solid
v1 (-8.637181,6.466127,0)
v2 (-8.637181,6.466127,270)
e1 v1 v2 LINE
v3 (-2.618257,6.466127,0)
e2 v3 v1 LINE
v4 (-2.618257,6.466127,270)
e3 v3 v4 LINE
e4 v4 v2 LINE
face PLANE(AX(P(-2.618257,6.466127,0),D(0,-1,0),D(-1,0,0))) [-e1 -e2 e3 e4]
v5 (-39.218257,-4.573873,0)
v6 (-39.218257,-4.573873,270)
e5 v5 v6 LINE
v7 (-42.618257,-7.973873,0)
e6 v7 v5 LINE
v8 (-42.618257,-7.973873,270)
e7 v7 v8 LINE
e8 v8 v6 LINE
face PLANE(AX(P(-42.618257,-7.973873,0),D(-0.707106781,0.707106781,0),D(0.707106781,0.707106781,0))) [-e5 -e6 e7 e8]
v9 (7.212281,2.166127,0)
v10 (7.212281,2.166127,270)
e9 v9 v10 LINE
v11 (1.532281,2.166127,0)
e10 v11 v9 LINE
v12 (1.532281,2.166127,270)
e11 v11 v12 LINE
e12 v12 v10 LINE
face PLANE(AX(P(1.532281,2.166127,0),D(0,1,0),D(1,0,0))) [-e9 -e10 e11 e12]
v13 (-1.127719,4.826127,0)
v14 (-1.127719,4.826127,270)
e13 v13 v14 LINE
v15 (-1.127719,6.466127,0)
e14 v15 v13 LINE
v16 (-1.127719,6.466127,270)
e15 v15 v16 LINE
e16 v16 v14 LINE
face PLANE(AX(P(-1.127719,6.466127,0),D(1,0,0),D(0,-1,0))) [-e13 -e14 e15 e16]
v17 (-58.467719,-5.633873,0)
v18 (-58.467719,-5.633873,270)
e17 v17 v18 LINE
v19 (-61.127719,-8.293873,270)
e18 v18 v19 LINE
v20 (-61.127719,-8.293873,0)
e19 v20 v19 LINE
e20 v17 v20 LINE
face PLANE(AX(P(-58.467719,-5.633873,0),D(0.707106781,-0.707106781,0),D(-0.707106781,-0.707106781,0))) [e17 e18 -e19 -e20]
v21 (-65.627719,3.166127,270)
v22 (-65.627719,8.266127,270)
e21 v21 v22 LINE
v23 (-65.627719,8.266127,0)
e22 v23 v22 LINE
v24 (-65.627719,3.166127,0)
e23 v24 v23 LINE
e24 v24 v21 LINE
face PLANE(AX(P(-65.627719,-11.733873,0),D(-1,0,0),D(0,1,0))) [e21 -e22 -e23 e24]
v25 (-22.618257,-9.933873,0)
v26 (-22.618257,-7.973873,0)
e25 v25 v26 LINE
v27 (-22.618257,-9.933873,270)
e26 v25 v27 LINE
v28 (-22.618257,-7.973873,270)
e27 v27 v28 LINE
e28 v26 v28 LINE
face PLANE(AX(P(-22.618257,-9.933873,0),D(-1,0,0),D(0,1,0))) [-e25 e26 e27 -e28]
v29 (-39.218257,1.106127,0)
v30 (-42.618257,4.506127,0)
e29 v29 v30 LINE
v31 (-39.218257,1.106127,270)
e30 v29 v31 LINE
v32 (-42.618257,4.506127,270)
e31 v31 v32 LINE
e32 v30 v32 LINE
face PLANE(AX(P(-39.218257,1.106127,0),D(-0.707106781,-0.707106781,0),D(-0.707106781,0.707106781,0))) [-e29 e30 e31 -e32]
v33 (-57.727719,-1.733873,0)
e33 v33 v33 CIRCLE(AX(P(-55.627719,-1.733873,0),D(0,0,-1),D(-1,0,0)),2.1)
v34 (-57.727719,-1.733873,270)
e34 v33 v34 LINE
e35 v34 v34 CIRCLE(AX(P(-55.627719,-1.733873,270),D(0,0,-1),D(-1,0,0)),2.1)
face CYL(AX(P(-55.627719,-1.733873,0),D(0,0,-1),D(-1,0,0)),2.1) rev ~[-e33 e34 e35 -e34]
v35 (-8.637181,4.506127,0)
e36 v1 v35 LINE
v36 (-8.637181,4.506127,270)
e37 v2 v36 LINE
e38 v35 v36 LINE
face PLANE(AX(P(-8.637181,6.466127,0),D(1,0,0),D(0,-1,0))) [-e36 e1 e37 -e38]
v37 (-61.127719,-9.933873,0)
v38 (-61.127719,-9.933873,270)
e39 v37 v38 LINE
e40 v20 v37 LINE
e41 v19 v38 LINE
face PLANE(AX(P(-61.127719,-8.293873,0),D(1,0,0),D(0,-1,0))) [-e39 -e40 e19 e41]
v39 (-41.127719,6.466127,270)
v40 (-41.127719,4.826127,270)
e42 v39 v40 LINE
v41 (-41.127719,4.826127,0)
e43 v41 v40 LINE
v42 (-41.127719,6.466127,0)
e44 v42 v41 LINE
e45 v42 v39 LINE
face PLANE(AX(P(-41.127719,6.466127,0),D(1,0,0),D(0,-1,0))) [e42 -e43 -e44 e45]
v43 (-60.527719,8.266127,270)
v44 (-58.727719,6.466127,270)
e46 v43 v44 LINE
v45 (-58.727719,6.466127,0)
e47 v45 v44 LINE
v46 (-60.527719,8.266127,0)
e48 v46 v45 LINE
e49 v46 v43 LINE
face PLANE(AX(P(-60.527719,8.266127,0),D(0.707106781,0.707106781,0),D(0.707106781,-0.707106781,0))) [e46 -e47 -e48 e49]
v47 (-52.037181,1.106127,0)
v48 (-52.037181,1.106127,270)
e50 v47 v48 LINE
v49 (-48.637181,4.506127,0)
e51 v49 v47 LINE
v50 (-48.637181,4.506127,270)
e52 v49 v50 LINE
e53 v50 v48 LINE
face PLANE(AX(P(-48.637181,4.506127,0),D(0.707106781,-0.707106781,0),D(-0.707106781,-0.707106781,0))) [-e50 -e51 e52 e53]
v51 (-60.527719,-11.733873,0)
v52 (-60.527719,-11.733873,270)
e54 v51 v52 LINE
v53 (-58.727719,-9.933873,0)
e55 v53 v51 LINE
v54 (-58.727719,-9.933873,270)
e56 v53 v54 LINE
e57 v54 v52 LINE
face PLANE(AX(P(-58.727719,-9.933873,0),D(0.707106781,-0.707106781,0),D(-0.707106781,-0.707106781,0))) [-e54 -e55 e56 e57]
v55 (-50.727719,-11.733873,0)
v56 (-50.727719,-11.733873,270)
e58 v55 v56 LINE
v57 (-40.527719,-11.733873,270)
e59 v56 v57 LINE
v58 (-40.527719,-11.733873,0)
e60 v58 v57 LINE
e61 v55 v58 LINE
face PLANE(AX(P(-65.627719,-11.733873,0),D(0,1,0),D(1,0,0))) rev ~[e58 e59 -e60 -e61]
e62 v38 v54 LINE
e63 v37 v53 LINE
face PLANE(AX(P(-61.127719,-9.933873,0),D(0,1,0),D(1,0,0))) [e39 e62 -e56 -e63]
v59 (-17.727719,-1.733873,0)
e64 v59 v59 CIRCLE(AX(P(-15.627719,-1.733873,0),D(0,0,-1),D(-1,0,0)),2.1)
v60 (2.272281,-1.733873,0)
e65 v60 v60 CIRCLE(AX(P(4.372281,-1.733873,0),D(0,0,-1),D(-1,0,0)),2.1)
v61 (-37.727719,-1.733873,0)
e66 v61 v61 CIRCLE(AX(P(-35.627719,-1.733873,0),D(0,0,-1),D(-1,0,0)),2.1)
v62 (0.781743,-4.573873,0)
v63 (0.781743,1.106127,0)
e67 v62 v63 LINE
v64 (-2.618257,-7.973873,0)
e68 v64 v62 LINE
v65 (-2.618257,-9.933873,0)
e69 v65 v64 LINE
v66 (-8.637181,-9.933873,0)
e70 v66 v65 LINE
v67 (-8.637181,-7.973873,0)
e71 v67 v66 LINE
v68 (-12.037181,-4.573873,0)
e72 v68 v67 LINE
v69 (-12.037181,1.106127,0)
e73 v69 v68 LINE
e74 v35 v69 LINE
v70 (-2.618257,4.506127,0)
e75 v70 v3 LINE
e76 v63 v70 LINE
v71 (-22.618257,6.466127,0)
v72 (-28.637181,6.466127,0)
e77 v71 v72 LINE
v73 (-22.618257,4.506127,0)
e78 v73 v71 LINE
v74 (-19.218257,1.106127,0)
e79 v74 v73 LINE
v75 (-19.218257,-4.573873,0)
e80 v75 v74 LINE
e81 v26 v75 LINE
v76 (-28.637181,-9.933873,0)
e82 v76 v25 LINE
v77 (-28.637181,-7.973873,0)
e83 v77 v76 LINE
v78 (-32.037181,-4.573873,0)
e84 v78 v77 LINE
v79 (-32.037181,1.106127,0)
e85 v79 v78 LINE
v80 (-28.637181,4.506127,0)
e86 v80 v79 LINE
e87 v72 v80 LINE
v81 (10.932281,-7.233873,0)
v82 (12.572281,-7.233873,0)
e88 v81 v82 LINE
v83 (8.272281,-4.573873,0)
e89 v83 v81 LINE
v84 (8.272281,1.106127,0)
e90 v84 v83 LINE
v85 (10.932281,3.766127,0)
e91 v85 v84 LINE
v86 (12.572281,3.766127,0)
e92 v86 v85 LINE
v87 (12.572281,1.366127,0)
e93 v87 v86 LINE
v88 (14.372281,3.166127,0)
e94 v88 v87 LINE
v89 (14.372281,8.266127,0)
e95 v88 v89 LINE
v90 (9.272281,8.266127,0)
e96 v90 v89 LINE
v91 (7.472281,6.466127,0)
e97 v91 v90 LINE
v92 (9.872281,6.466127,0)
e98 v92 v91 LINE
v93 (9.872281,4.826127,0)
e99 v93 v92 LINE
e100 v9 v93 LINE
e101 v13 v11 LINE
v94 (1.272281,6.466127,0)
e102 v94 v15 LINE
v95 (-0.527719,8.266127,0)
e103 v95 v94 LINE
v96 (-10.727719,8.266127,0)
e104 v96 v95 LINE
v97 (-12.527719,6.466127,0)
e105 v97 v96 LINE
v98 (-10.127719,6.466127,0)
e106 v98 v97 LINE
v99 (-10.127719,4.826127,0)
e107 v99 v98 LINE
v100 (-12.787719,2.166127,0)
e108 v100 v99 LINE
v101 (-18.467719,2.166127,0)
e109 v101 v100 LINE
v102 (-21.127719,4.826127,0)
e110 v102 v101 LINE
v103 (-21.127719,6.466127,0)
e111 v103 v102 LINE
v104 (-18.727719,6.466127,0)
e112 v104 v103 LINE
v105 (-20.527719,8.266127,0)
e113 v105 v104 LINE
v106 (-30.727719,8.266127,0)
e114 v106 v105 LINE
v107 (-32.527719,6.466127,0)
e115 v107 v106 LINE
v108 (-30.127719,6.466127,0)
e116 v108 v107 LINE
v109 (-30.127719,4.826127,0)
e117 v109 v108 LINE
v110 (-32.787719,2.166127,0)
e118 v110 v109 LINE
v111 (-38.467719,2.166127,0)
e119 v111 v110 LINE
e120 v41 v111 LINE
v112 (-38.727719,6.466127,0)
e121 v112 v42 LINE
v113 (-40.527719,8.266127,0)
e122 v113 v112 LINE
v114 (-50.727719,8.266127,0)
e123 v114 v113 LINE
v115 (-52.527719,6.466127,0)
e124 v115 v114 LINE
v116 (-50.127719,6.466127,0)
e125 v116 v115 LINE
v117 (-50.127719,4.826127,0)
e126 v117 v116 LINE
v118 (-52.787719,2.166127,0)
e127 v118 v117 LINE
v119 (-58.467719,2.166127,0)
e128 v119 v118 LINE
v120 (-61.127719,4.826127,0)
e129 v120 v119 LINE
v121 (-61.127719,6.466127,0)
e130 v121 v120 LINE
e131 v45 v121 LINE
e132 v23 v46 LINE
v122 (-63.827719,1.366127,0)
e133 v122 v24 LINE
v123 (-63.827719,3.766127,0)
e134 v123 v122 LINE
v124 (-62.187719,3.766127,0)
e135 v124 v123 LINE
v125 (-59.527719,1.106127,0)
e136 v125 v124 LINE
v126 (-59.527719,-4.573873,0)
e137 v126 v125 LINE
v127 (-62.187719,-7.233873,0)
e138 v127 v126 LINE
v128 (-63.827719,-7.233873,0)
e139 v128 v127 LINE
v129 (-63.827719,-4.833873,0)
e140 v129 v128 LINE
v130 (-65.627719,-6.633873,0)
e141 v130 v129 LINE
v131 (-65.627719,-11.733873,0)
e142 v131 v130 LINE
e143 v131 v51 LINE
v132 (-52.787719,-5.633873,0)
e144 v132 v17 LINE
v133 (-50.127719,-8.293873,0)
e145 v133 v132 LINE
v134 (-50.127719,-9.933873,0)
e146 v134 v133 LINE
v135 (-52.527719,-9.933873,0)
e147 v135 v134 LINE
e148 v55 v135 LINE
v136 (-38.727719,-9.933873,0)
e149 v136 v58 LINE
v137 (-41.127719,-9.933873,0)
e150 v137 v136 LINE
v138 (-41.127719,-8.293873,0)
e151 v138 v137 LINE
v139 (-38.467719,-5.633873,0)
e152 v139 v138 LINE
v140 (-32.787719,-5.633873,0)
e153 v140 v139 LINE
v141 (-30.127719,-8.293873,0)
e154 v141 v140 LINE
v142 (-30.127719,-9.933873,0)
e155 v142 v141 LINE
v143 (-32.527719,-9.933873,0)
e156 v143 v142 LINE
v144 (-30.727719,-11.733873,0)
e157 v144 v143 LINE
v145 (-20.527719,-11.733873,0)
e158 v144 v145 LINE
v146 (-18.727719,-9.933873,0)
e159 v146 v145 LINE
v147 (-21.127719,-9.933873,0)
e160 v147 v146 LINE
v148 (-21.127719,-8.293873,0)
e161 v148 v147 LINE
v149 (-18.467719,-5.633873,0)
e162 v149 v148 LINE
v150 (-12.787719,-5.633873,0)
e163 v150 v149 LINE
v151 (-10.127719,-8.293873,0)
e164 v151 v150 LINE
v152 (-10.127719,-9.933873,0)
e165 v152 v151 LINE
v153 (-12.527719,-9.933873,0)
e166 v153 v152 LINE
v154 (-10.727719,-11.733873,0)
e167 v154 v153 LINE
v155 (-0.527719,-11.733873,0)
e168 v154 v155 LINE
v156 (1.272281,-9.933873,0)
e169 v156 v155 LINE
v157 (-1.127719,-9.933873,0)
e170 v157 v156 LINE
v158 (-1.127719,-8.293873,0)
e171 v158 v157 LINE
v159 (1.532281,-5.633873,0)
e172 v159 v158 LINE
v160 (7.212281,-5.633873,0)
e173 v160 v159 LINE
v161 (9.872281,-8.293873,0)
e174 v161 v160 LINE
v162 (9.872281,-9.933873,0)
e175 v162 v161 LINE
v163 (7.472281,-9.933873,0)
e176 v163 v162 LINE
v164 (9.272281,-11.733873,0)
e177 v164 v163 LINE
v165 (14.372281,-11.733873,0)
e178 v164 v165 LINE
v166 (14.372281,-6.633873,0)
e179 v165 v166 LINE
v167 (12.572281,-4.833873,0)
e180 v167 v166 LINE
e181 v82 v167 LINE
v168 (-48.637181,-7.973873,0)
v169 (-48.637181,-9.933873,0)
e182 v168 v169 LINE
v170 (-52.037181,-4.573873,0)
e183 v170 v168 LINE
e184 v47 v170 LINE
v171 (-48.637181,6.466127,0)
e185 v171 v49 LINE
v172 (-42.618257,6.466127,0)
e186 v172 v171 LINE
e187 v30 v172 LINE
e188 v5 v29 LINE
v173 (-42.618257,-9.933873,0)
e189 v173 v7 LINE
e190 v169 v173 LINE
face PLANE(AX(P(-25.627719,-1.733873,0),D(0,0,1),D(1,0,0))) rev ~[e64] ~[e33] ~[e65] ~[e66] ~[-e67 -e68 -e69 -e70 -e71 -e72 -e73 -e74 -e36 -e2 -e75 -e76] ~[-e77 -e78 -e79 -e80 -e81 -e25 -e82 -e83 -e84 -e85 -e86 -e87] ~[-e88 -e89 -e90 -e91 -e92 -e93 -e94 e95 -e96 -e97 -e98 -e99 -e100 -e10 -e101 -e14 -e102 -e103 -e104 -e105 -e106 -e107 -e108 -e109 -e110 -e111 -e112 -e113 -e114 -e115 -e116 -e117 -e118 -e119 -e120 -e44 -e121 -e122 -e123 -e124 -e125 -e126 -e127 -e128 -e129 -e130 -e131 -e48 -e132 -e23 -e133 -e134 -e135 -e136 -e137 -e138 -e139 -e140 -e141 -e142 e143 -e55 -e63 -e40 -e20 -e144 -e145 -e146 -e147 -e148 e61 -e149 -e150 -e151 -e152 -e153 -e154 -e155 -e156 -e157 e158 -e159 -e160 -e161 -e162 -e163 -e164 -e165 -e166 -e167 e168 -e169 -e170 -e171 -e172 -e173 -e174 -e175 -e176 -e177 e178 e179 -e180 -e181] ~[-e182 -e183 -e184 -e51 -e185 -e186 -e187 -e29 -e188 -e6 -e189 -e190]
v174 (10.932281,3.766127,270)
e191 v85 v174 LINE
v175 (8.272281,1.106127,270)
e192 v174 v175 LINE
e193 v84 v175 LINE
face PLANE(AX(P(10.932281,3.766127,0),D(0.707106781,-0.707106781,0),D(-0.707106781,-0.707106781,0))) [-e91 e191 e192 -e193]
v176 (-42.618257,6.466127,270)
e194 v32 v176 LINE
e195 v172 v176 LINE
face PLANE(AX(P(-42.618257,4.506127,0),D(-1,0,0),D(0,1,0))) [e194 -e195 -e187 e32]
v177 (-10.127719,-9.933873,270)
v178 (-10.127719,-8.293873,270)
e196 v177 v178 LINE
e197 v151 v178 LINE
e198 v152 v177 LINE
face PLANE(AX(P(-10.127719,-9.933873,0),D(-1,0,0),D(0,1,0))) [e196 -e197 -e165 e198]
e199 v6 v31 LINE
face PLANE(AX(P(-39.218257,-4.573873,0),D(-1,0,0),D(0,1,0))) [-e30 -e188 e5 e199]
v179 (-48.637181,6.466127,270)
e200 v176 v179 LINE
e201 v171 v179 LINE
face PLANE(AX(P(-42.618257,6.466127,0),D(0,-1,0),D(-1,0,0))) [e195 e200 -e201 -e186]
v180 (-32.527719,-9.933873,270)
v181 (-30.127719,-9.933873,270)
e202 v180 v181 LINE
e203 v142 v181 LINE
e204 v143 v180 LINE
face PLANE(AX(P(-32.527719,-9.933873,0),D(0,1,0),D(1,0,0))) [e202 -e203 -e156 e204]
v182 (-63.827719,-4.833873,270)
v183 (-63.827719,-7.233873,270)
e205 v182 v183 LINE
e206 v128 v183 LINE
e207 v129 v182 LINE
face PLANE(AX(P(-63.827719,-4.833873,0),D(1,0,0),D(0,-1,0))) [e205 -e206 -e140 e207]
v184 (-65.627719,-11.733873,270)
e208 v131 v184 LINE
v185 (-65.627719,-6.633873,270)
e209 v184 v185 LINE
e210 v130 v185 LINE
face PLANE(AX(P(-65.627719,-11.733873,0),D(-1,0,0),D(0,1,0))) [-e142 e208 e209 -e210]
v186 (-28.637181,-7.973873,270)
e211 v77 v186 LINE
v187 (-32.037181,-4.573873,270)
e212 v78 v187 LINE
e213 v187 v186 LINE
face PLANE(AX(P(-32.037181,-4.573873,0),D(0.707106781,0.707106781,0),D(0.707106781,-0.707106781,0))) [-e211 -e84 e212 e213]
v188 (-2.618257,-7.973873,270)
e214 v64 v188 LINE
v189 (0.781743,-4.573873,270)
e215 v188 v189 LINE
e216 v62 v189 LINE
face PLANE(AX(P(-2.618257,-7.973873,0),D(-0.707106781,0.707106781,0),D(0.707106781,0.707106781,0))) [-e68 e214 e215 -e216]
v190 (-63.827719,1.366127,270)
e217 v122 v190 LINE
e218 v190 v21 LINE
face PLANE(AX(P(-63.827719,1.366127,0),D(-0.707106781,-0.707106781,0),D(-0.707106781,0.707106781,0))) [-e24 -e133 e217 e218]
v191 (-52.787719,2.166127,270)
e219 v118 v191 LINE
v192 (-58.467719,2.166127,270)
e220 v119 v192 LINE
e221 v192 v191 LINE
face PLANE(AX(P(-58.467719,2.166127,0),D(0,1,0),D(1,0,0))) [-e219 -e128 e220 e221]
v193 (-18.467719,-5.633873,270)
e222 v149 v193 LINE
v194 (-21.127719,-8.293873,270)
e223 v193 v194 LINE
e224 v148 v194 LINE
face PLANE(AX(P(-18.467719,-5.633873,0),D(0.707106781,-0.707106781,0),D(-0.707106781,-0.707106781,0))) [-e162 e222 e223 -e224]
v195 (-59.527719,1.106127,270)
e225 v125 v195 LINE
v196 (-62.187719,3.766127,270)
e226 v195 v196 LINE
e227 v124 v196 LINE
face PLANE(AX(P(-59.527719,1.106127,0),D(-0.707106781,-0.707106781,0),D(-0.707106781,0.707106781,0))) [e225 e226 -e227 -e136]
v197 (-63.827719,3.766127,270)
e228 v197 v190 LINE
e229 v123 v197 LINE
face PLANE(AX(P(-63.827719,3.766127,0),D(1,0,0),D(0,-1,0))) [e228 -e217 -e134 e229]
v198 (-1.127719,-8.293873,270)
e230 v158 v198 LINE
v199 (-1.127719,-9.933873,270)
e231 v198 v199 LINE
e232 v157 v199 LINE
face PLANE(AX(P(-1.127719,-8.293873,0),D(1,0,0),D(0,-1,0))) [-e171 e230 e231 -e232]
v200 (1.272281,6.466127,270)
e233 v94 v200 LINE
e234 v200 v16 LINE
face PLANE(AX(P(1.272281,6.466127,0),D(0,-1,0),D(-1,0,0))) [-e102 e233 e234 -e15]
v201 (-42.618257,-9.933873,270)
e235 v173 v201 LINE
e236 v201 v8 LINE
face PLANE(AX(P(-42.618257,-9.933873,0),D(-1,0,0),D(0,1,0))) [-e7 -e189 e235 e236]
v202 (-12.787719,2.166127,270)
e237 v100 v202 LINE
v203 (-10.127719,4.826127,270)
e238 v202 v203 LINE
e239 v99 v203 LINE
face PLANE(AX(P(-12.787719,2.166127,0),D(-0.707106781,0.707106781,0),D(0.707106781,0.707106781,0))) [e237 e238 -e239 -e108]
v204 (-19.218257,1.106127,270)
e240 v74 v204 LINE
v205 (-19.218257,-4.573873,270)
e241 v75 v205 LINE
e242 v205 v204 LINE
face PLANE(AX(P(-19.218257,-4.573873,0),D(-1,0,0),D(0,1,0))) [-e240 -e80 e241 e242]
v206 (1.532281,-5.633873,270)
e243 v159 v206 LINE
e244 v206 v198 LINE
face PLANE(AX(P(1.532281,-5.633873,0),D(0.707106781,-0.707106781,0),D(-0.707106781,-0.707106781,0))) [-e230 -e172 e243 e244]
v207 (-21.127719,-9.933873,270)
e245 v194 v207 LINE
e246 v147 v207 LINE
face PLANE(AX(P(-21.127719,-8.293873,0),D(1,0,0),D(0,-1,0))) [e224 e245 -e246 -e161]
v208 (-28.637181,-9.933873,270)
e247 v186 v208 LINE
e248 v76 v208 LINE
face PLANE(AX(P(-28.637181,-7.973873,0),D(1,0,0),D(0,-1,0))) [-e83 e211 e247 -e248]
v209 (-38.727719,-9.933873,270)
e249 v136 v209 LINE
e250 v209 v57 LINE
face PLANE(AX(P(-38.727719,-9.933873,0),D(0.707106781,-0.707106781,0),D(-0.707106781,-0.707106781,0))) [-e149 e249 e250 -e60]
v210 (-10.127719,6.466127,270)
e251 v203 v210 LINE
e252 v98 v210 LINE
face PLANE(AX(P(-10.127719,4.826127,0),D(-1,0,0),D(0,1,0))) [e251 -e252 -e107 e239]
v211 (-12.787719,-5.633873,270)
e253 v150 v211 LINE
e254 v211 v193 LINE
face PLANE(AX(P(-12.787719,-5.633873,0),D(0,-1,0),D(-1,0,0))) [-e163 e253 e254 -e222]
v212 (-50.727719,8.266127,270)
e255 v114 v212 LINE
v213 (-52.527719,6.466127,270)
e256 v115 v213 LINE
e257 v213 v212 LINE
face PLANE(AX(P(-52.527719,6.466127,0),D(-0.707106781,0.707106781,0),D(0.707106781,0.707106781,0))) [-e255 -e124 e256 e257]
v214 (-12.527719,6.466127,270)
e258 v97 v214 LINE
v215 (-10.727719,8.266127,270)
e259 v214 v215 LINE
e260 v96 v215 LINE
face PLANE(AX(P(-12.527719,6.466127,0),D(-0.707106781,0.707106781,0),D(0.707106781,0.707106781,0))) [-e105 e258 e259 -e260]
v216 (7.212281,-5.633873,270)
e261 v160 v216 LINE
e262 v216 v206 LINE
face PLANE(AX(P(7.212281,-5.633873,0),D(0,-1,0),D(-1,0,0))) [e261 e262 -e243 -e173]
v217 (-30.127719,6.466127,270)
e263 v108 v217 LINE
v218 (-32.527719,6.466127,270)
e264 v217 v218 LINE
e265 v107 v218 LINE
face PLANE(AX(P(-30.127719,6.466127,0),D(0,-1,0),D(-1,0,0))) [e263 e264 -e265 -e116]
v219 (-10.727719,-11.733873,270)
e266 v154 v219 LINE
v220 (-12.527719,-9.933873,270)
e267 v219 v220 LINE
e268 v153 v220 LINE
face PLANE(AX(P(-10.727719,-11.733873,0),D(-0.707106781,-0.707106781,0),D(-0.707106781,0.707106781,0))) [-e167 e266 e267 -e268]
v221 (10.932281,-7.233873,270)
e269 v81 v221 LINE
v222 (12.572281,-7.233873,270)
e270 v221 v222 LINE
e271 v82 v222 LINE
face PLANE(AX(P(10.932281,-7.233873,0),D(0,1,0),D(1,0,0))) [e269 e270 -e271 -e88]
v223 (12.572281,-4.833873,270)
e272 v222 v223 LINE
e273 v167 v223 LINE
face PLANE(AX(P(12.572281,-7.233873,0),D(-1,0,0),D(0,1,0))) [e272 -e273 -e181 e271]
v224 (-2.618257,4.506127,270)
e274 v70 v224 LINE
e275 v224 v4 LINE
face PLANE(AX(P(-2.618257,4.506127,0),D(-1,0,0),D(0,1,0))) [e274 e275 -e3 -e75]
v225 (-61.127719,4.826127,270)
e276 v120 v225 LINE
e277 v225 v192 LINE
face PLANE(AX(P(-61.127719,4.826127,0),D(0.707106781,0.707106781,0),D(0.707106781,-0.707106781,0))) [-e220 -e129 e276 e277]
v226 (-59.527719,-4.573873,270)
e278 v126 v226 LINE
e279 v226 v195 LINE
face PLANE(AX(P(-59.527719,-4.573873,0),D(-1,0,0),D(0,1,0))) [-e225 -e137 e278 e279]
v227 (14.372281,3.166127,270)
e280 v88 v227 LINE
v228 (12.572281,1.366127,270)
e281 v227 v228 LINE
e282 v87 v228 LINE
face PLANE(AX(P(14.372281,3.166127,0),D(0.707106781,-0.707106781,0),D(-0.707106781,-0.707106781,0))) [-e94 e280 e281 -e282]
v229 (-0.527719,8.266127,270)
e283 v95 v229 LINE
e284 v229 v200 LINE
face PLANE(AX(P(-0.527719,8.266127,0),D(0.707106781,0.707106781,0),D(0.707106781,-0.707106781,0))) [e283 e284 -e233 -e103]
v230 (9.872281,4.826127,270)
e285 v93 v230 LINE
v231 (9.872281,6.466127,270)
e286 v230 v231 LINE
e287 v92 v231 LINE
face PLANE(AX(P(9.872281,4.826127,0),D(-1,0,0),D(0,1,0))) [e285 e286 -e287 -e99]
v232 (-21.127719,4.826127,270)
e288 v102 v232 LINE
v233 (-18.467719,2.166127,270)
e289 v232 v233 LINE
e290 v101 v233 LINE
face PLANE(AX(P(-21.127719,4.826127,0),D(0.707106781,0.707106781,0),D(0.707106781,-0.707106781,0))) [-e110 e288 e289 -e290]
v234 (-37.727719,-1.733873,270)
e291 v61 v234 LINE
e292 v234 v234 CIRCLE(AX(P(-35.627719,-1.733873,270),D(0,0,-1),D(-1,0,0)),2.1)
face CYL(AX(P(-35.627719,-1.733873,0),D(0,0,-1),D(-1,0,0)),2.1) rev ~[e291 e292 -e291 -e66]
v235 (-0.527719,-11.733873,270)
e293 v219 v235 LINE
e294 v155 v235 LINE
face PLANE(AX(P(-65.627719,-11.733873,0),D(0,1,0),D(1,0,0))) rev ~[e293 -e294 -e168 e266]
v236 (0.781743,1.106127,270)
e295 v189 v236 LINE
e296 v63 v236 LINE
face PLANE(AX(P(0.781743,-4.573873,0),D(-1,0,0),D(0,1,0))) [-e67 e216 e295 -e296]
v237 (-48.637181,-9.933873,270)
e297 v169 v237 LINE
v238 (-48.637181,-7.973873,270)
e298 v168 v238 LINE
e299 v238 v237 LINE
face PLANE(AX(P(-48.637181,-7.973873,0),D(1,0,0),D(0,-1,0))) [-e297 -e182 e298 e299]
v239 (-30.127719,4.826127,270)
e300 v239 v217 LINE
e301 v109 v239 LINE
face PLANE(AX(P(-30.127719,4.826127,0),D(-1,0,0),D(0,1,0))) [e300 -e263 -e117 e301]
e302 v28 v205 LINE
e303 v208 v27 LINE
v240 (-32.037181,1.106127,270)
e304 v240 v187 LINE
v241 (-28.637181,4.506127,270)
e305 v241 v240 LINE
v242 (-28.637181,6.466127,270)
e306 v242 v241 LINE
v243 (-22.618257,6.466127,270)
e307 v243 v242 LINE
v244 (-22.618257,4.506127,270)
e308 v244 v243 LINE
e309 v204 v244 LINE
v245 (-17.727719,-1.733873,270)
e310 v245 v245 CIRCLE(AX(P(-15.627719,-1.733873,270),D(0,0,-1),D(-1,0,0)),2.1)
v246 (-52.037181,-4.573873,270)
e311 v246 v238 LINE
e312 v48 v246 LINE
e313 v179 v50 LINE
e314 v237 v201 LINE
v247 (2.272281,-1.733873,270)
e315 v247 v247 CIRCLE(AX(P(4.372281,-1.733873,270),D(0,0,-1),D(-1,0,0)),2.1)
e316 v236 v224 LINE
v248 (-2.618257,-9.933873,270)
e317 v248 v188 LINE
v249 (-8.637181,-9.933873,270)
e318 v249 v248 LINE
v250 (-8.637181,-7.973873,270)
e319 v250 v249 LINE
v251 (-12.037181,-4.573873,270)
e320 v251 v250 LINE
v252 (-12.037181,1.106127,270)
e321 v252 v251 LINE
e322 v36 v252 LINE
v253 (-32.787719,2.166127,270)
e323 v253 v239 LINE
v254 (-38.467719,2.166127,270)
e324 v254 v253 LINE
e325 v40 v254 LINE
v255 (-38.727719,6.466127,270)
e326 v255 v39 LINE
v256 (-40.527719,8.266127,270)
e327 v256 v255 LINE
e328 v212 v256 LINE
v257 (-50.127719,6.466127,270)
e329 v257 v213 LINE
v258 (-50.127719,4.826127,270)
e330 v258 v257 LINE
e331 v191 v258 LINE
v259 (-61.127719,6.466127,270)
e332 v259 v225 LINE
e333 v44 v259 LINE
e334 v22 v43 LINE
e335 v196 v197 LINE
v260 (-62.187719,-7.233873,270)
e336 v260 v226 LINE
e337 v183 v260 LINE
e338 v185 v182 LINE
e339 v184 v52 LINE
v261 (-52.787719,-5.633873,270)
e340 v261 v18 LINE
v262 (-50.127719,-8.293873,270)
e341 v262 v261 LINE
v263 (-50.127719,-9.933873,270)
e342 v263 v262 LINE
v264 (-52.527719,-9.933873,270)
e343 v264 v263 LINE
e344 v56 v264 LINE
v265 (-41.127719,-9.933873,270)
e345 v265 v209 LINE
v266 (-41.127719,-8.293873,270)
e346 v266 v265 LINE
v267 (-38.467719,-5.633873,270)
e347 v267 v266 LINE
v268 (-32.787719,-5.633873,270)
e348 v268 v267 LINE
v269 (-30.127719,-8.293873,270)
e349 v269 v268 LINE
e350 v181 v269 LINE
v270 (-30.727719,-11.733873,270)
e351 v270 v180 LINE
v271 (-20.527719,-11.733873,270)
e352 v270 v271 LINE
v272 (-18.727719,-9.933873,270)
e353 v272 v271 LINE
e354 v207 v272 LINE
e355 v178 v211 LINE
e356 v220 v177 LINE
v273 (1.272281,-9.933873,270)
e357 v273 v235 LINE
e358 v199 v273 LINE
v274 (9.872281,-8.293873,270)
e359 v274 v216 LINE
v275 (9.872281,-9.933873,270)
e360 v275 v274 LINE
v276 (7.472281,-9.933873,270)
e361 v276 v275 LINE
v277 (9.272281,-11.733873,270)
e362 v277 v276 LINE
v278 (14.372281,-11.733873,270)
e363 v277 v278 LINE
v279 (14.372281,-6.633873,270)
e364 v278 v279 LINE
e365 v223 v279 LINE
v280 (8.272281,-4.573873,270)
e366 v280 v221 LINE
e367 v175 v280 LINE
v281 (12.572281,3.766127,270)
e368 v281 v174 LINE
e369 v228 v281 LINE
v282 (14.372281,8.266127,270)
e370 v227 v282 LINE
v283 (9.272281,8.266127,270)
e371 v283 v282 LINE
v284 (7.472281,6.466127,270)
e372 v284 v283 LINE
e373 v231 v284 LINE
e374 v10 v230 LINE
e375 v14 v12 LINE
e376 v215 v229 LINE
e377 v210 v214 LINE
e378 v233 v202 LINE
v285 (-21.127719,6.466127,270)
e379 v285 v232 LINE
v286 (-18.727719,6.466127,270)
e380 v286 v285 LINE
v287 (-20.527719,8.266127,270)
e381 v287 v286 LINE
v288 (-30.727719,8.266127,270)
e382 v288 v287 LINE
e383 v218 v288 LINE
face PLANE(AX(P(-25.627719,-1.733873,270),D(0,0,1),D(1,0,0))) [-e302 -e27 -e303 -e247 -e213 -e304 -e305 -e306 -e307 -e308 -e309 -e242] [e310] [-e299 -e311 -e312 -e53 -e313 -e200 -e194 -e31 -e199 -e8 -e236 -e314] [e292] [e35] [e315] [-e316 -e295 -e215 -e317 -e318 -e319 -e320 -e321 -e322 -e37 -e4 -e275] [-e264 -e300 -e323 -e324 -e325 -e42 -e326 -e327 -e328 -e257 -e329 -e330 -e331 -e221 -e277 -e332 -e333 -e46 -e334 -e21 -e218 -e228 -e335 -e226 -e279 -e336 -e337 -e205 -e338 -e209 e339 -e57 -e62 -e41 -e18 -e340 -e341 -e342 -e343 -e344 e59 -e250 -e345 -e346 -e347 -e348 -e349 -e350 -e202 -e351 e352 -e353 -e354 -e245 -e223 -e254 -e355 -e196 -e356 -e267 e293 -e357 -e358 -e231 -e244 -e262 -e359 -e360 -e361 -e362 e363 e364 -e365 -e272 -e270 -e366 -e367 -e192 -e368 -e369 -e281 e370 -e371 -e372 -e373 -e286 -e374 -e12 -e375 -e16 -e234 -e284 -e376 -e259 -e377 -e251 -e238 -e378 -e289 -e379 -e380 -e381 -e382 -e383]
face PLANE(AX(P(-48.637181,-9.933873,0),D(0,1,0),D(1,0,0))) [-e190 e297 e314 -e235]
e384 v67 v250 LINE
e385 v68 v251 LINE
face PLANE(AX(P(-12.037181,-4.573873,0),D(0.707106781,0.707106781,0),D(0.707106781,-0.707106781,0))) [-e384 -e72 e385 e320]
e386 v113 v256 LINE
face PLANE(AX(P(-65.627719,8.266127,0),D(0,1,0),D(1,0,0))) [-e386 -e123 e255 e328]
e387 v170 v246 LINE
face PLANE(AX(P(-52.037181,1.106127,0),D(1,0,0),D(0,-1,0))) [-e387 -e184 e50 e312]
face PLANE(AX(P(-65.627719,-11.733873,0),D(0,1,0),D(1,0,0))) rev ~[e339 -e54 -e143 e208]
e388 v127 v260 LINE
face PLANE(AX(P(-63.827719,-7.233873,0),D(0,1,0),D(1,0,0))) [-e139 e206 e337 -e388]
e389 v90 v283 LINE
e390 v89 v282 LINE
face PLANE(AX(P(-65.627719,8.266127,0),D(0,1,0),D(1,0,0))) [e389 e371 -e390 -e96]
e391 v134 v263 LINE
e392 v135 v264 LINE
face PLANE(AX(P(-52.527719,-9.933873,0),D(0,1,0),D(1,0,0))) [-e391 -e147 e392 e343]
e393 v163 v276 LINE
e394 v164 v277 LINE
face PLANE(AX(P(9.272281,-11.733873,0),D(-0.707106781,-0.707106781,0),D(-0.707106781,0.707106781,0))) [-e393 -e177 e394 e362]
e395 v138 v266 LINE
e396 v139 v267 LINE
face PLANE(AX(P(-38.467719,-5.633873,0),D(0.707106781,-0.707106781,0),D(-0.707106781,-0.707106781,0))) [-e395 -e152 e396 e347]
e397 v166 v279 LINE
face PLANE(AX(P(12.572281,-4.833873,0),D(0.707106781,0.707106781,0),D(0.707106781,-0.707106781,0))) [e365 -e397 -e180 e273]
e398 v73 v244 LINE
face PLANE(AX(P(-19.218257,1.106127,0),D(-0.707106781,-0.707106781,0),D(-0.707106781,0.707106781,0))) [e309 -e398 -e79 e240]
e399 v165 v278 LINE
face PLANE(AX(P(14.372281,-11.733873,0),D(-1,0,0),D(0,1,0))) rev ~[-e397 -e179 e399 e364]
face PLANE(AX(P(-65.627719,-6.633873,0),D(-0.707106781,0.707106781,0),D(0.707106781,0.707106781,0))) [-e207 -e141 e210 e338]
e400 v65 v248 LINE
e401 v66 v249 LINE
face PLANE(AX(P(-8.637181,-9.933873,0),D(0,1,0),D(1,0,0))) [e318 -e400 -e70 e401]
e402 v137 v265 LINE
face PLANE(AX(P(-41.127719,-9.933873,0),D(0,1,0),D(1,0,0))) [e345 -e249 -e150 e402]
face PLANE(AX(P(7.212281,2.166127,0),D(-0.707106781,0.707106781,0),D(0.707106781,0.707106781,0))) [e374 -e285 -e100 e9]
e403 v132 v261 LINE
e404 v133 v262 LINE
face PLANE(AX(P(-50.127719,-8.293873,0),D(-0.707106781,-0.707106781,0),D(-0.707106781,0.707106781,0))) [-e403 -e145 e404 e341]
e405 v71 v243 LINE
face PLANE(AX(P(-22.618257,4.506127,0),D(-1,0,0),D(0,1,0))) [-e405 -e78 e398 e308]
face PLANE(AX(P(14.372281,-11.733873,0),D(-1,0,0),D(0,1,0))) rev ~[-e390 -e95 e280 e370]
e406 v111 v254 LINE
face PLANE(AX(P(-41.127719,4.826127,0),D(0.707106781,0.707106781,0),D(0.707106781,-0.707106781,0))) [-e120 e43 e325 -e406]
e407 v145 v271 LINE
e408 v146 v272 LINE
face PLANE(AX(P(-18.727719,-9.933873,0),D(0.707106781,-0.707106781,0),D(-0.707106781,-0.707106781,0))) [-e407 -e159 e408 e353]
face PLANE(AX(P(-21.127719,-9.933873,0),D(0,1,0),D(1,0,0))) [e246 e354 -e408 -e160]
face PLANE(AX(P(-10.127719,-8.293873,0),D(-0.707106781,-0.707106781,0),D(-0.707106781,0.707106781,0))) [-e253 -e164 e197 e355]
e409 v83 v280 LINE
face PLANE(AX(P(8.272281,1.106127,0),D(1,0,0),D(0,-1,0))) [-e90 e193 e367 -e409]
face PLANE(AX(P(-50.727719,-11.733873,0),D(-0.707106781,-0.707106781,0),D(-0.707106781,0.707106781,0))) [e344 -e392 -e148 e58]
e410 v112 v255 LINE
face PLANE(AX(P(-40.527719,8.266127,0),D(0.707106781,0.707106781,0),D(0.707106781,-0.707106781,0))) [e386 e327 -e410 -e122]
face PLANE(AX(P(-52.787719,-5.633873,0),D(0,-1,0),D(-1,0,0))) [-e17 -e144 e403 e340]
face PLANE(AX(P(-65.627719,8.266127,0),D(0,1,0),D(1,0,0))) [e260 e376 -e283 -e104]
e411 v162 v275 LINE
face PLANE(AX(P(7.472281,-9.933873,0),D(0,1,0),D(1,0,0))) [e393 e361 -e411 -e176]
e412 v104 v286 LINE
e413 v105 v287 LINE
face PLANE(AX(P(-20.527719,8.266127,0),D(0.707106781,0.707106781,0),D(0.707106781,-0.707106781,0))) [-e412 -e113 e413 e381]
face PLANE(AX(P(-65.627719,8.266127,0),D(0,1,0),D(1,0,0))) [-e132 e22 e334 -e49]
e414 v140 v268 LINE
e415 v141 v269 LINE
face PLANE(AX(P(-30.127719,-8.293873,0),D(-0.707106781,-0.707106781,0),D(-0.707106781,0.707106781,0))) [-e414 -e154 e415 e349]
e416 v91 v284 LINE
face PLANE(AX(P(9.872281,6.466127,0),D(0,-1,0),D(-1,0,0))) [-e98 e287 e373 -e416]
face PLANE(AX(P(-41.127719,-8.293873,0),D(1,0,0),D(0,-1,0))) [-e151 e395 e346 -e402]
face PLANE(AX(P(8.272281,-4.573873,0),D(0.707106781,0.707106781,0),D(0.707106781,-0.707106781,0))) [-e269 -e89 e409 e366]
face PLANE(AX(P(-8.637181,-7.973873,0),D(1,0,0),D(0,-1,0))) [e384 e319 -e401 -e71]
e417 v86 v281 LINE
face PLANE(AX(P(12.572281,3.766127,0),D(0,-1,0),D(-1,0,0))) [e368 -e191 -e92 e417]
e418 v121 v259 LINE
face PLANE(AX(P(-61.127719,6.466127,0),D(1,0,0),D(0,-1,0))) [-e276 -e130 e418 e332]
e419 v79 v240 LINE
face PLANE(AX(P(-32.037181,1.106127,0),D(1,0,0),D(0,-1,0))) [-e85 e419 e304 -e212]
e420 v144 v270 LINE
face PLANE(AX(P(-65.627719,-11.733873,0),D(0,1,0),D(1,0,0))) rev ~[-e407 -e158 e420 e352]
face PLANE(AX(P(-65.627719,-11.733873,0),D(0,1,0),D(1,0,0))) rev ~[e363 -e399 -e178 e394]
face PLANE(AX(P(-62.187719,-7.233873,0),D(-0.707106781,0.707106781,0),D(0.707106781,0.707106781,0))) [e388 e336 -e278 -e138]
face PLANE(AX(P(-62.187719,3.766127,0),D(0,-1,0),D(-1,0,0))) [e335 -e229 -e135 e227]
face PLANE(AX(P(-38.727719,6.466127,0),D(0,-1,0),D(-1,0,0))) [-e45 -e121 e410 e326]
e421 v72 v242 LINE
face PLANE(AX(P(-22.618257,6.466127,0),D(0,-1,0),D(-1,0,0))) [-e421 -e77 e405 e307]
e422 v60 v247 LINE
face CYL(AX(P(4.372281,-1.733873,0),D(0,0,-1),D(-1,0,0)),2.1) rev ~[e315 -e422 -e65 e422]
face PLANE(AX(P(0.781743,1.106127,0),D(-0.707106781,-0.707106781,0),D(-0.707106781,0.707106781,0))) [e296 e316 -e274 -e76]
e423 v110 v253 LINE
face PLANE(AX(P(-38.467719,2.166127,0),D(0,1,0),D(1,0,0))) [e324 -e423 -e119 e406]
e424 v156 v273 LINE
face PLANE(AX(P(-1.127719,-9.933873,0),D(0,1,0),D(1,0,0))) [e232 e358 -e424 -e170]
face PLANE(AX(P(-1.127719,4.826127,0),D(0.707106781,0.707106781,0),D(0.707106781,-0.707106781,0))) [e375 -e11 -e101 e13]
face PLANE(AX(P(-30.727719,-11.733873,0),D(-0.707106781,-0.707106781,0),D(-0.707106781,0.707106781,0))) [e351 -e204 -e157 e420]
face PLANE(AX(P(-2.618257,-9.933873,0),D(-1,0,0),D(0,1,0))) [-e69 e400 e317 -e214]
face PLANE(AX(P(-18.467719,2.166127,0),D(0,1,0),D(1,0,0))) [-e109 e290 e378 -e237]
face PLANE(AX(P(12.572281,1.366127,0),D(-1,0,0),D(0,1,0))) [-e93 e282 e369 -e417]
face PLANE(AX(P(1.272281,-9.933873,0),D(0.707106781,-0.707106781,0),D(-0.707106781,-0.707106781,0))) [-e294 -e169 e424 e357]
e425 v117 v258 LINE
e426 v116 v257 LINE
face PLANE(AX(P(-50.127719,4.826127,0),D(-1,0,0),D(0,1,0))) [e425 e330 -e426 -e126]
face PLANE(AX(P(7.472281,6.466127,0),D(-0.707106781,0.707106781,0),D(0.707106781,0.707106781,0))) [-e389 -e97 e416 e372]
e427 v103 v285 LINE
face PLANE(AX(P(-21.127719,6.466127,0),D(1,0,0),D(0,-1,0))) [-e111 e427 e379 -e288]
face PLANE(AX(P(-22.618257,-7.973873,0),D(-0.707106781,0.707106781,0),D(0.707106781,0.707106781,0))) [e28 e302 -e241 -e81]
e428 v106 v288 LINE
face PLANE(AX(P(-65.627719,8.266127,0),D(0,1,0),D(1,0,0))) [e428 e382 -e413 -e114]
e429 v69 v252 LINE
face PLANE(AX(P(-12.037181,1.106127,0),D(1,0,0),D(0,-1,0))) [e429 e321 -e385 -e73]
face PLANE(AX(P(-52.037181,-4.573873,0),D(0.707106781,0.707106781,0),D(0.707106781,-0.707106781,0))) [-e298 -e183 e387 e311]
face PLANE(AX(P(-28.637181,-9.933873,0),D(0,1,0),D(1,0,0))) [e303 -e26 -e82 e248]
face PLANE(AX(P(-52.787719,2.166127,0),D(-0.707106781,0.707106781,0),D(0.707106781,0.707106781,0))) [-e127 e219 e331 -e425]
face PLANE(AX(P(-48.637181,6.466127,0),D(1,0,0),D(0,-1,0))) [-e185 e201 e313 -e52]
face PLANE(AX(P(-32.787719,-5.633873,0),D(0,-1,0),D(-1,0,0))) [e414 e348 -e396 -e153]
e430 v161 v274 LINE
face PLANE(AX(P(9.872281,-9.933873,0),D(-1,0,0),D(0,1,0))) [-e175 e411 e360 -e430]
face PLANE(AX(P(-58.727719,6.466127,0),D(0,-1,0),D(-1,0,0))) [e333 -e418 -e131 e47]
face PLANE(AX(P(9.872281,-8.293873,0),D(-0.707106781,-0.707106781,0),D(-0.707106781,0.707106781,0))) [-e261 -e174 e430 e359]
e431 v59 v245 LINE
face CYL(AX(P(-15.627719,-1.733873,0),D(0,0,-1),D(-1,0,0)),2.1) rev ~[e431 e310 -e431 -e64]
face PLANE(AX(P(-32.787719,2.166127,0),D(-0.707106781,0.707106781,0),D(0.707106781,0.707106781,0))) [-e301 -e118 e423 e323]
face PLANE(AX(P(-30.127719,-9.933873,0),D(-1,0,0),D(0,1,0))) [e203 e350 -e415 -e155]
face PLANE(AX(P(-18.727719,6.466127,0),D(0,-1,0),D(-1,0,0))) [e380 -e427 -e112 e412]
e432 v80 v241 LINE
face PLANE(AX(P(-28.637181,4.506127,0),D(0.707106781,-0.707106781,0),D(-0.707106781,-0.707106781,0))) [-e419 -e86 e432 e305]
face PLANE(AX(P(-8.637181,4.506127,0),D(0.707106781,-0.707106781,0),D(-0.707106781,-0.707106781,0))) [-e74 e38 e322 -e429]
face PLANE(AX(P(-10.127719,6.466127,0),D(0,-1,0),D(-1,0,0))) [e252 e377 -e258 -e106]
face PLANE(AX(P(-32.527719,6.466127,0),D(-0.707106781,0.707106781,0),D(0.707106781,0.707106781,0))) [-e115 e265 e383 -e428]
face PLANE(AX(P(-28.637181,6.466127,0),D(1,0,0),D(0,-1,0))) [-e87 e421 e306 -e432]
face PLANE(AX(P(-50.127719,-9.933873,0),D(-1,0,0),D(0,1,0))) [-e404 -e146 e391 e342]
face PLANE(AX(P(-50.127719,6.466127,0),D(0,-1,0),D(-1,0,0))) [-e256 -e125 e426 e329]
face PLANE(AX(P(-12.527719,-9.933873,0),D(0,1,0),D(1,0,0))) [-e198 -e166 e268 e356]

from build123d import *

# Parameters (mm, degrees)
ESQUISSE1_W             = 80
ESQUISSE1_H             = 20
BOSS_EXTRU_1_DEPTH      = 270
ENL_V_MAT_EXTRU_1_REACH = 280.109
ESQUISSE2_R             = 2.1
ENL_V_MAT_EXTRU_2_REACH = 280.109


with BuildPart() as part:
    # Esquisse1 → Boss.-Extru.1 (new body)
    with BuildSketch(Plane.XY):
        with Locations((-25.62771875, -1.733873274)):
            Rectangle(ESQUISSE1_W, ESQUISSE1_H)
    extrude(amount=BOSS_EXTRU_1_DEPTH)

    # Esquisse2 → Enlèv. mat.-Extru.1 (cut, up to next)
    with BuildSketch(Plane(origin=(0, 0, 0), x_dir=(-1, 0, 0), z_dir=(0, 0, -1)), mode=Mode.PRIVATE) as enl_v_mat_extru_1_sk1:
        with Locations((55.62771875, -1.733873274)):
            Circle(ESQUISSE2_R)
    enl_v_mat_extru_1_tool1 = extrude(enl_v_mat_extru_1_sk1.sketch, amount=-ENL_V_MAT_EXTRU_1_REACH, mode=Mode.PRIVATE) & part.part
    # Esquisse2 → Enlèv. mat.-Extru.1 (cut, up to next)
    with BuildSketch(Plane(origin=(0, 0, 0), x_dir=(-1, 0, 0), z_dir=(0, 0, -1)), mode=Mode.PRIVATE) as enl_v_mat_extru_1_sk2:
        with Locations((35.62771875, -1.733873274)):
            Circle(ESQUISSE2_R)
    enl_v_mat_extru_1_tool2 = extrude(enl_v_mat_extru_1_sk2.sketch, amount=-ENL_V_MAT_EXTRU_1_REACH, mode=Mode.PRIVATE) & part.part
    # Esquisse2 → Enlèv. mat.-Extru.1 (cut, up to next)
    with BuildSketch(Plane(origin=(0, 0, 0), x_dir=(-1, 0, 0), z_dir=(0, 0, -1)), mode=Mode.PRIVATE) as enl_v_mat_extru_1_sk3:
        with Locations((15.62771875, -1.733873274)):
            Circle(ESQUISSE2_R)
    enl_v_mat_extru_1_tool3 = extrude(enl_v_mat_extru_1_sk3.sketch, amount=-ENL_V_MAT_EXTRU_1_REACH, mode=Mode.PRIVATE) & part.part
    # Esquisse2 → Enlèv. mat.-Extru.1 (cut, up to next)
    with BuildSketch(Plane(origin=(0, 0, 0), x_dir=(-1, 0, 0), z_dir=(0, 0, -1)), mode=Mode.PRIVATE) as enl_v_mat_extru_1_sk4:
        with Locations((-4.37228125, -1.733873274)):
            Circle(ESQUISSE2_R)
    enl_v_mat_extru_1_tool4 = extrude(enl_v_mat_extru_1_sk4.sketch, amount=-ENL_V_MAT_EXTRU_1_REACH, mode=Mode.PRIVATE) & part.part
    # Esquisse2 → Enlèv. mat.-Extru.1 (cut, up to next)
    with BuildSketch(Plane(origin=(0, 0, 0), x_dir=(-1, 0, 0), z_dir=(0, 0, -1)), mode=Mode.PRIVATE) as enl_v_mat_extru_1_sk5:
        Polygon((50.72771875, 8.266126726), (60.52771875, 8.266126726), (58.72771875, 6.466126726), (61.12771875, 6.466126726), (61.12771875, 4.826126726), (58.46771875, 2.166126726), (52.78771875, 2.166126726), (50.12771875, 4.826126726), (50.12771875, 6.466126726), (52.52771875, 6.466126726), align=None)
    enl_v_mat_extru_1_tool5 = extrude(enl_v_mat_extru_1_sk5.sketch, amount=-ENL_V_MAT_EXTRU_1_REACH, mode=Mode.PRIVATE) & part.part
    # Esquisse2 → Enlèv. mat.-Extru.1 (cut, up to next)
    with BuildSketch(Plane(origin=(0, 0, 0), x_dir=(-1, 0, 0), z_dir=(0, 0, -1)), mode=Mode.PRIVATE) as enl_v_mat_extru_1_sk6:
        Polygon((65.62771875, 3.166126726), (65.62771875, -6.633873274), (63.82771875, -4.833873274), (63.82771875, -7.233873274), (62.18771875, -7.233873274), (59.52771875, -4.573873274), (59.52771875, 1.106126726), (62.18771875, 3.766126726), (63.82771875, 3.766126726), (63.82771875, 1.366126726), align=None)
    enl_v_mat_extru_1_tool6 = extrude(enl_v_mat_extru_1_sk6.sketch, amount=-ENL_V_MAT_EXTRU_1_REACH, mode=Mode.PRIVATE) & part.part
    # Esquisse2 → Enlèv. mat.-Extru.1 (cut, up to next)
    with BuildSketch(Plane(origin=(0, 0, 0), x_dir=(-1, 0, 0), z_dir=(0, 0, -1)), mode=Mode.PRIVATE) as enl_v_mat_extru_1_sk7:
        Polygon((60.52771875, -11.733873274), (50.72771875, -11.733873274), (52.52771875, -9.933873274), (50.12771875, -9.933873274), (50.12771875, -8.293873274), (52.78771875, -5.633873274), (58.46771875, -5.633873274), (61.12771875, -8.293873274), (61.12771875, -9.933873274), (58.72771875, -9.933873274), align=None)
    enl_v_mat_extru_1_tool7 = extrude(enl_v_mat_extru_1_sk7.sketch, amount=-ENL_V_MAT_EXTRU_1_REACH, mode=Mode.PRIVATE) & part.part
    # Esquisse2 → Enlèv. mat.-Extru.1 (cut, up to next)
    with BuildSketch(Plane(origin=(0, 0, 0), x_dir=(-1, 0, 0), z_dir=(0, 0, -1)), mode=Mode.PRIVATE) as enl_v_mat_extru_1_sk8:
        Polygon((30.72771875, 8.266126726), (40.52771875, 8.266126726), (38.72771875, 6.466126726), (41.12771875, 6.466126726), (41.12771875, 4.826126726), (38.46771875, 2.166126726), (32.78771875, 2.166126726), (30.12771875, 4.826126726), (30.12771875, 6.466126726), (32.52771875, 6.466126726), align=None)
    enl_v_mat_extru_1_tool8 = extrude(enl_v_mat_extru_1_sk8.sketch, amount=-ENL_V_MAT_EXTRU_1_REACH, mode=Mode.PRIVATE) & part.part
    # Esquisse2 → Enlèv. mat.-Extru.1 (cut, up to next)
    with BuildSketch(Plane(origin=(0, 0, 0), x_dir=(-1, 0, 0), z_dir=(0, 0, -1)), mode=Mode.PRIVATE) as enl_v_mat_extru_1_sk9:
        Polygon((40.52771875, -11.733873274), (30.72771875, -11.733873274), (32.52771875, -9.933873274), (30.12771875, -9.933873274), (30.12771875, -8.293873274), (32.78771875, -5.633873274), (38.46771875, -5.633873274), (41.12771875, -8.293873274), (41.12771875, -9.933873274), (38.72771875, -9.933873274), align=None)
    enl_v_mat_extru_1_tool9 = extrude(enl_v_mat_extru_1_sk9.sketch, amount=-ENL_V_MAT_EXTRU_1_REACH, mode=Mode.PRIVATE) & part.part
    # Esquisse2 → Enlèv. mat.-Extru.1 (cut, up to next)
    with BuildSketch(Plane(origin=(0, 0, 0), x_dir=(-1, 0, 0), z_dir=(0, 0, -1)), mode=Mode.PRIVATE) as enl_v_mat_extru_1_sk10:
        Polygon((10.72771875, 8.266126726), (20.52771875, 8.266126726), (18.72771875, 6.466126726), (21.12771875, 6.466126726), (21.12771875, 4.826126726), (18.46771875, 2.166126726), (12.78771875, 2.166126726), (10.12771875, 4.826126726), (10.12771875, 6.466126726), (12.52771875, 6.466126726), align=None)
    enl_v_mat_extru_1_tool10 = extrude(enl_v_mat_extru_1_sk10.sketch, amount=-ENL_V_MAT_EXTRU_1_REACH, mode=Mode.PRIVATE) & part.part
    # Esquisse2 → Enlèv. mat.-Extru.1 (cut, up to next)
    with BuildSketch(Plane(origin=(0, 0, 0), x_dir=(-1, 0, 0), z_dir=(0, 0, -1)), mode=Mode.PRIVATE) as enl_v_mat_extru_1_sk11:
        Polygon((20.52771875, -11.733873274), (10.72771875, -11.733873274), (12.52771875, -9.933873274), (10.12771875, -9.933873274), (10.12771875, -8.293873274), (12.78771875, -5.633873274), (18.46771875, -5.633873274), (21.12771875, -8.293873274), (21.12771875, -9.933873274), (18.72771875, -9.933873274), align=None)
    enl_v_mat_extru_1_tool11 = extrude(enl_v_mat_extru_1_sk11.sketch, amount=-ENL_V_MAT_EXTRU_1_REACH, mode=Mode.PRIVATE) & part.part
    # Esquisse2 → Enlèv. mat.-Extru.1 (cut, up to next)
    with BuildSketch(Plane(origin=(0, 0, 0), x_dir=(-1, 0, 0), z_dir=(0, 0, -1)), mode=Mode.PRIVATE) as enl_v_mat_extru_1_sk12:
        Polygon((-9.27228125, 8.266126726), (0.52771875, 8.266126726), (-1.27228125, 6.466126726), (1.12771875, 6.466126726), (1.12771875, 4.826126726), (-1.53228125, 2.166126726), (-7.21228125, 2.166126726), (-9.87228125, 4.826126726), (-9.87228125, 6.466126726), (-7.47228125, 6.466126726), align=None)
    enl_v_mat_extru_1_tool12 = extrude(enl_v_mat_extru_1_sk12.sketch, amount=-ENL_V_MAT_EXTRU_1_REACH, mode=Mode.PRIVATE) & part.part
    # Esquisse2 → Enlèv. mat.-Extru.1 (cut, up to next)
    with BuildSketch(Plane(origin=(0, 0, 0), x_dir=(-1, 0, 0), z_dir=(0, 0, -1)), mode=Mode.PRIVATE) as enl_v_mat_extru_1_sk13:
        Polygon((0.52771875, -11.733873274), (-9.27228125, -11.733873274), (-7.47228125, -9.933873274), (-9.87228125, -9.933873274), (-9.87228125, -8.293873274), (-7.21228125, -5.633873274), (-1.53228125, -5.633873274), (1.12771875, -8.293873274), (1.12771875, -9.933873274), (-1.27228125, -9.933873274), align=None)
    enl_v_mat_extru_1_tool13 = extrude(enl_v_mat_extru_1_sk13.sketch, amount=-ENL_V_MAT_EXTRU_1_REACH, mode=Mode.PRIVATE) & part.part
    # Esquisse2 → Enlèv. mat.-Extru.1 (cut, up to next)
    with BuildSketch(Plane(origin=(0, 0, 0), x_dir=(-1, 0, 0), z_dir=(0, 0, -1)), mode=Mode.PRIVATE) as enl_v_mat_extru_1_sk14:
        Polygon((-14.37228125, -6.633873274), (-14.37228125, 3.166126726), (-12.57228125, 1.366126726), (-12.57228125, 3.766126726), (-10.93228125, 3.766126726), (-8.27228125, 1.106126726), (-8.27228125, -4.573873274), (-10.93228125, -7.233873274), (-12.57228125, -7.233873274), (-12.57228125, -4.833873274), align=None)
    enl_v_mat_extru_1_tool14 = extrude(enl_v_mat_extru_1_sk14.sketch, amount=-ENL_V_MAT_EXTRU_1_REACH, mode=Mode.PRIVATE) & part.part
    add(enl_v_mat_extru_1_tool1.solids().sort_by_distance((-55.627719, -1.733873, 0))[0], mode=Mode.SUBTRACT)
    add(enl_v_mat_extru_1_tool2.solids().sort_by_distance((-35.627719, -1.733873, 0))[0], mode=Mode.SUBTRACT)
    add(enl_v_mat_extru_1_tool3.solids().sort_by_distance((-15.627719, -1.733873, 0))[0], mode=Mode.SUBTRACT)
    add(enl_v_mat_extru_1_tool4.solids().sort_by_distance((4.372281, -1.733873, 0))[0], mode=Mode.SUBTRACT)
    add(enl_v_mat_extru_1_tool5.solids().sort_by_distance((-55.627719, 5.301599, 0))[0], mode=Mode.SUBTRACT)
    add(enl_v_mat_extru_1_tool6.solids().sort_by_distance((-62.663191, -1.733873, 0))[0], mode=Mode.SUBTRACT)
    add(enl_v_mat_extru_1_tool7.solids().sort_by_distance((-55.627719, -8.769346, 0))[0], mode=Mode.SUBTRACT)
    add(enl_v_mat_extru_1_tool8.solids().sort_by_distance((-35.627719, 5.301599, 0))[0], mode=Mode.SUBTRACT)
    add(enl_v_mat_extru_1_tool9.solids().sort_by_distance((-35.627719, -8.769346, 0))[0], mode=Mode.SUBTRACT)
    add(enl_v_mat_extru_1_tool10.solids().sort_by_distance((-15.627719, 5.301599, 0))[0], mode=Mode.SUBTRACT)
    add(enl_v_mat_extru_1_tool11.solids().sort_by_distance((-15.627719, -8.769346, 0))[0], mode=Mode.SUBTRACT)
    add(enl_v_mat_extru_1_tool12.solids().sort_by_distance((4.372281, 5.301599, 0))[0], mode=Mode.SUBTRACT)
    add(enl_v_mat_extru_1_tool13.solids().sort_by_distance((4.372281, -8.769346, 0))[0], mode=Mode.SUBTRACT)
    add(enl_v_mat_extru_1_tool14.solids().sort_by_distance((11.407754, -1.733873, 0))[0], mode=Mode.SUBTRACT)

    # Esquisse3 → Enlèv. mat.-Extru.2 (cut, up to next)
    with BuildSketch(Plane(origin=(0, 0, 0), x_dir=(-1, 0, 0), z_dir=(0, 0, -1)), mode=Mode.PRIVATE) as enl_v_mat_extru_2_sk1:
        Polygon((2.618256699, 6.466126726), (8.637180802, 6.466126726), (8.637180802, 4.506126726), (12.037180802, 1.106126726), (12.037180802, -4.573873274), (8.637180802, -7.973873274), (8.637180802, -9.933873274), (2.618256699, -9.933873274), (2.618256699, -7.973873274), (-0.781743301, -4.573873274), (-0.781743301, 1.106126726), (2.618256699, 4.506126726), align=None)
    enl_v_mat_extru_2_tool1 = extrude(enl_v_mat_extru_2_sk1.sketch, amount=-ENL_V_MAT_EXTRU_2_REACH, mode=Mode.PRIVATE) & part.part
    # Esquisse3 → Enlèv. mat.-Extru.2 (cut, up to next)
    with BuildSketch(Plane(origin=(0, 0, 0), x_dir=(-1, 0, 0), z_dir=(0, 0, -1)), mode=Mode.PRIVATE) as enl_v_mat_extru_2_sk2:
        Polygon((22.618256699, 6.466126726), (28.637180802, 6.466126726), (28.637180802, 4.506126726), (32.037180802, 1.106126726), (32.037180802, -4.573873274), (28.637180802, -7.973873274), (28.637180802, -9.933873274), (22.618256699, -9.933873274), (22.618256699, -7.973873274), (19.218256699, -4.573873274), (19.218256699, 1.106126726), (22.618256699, 4.506126726), align=None)
    enl_v_mat_extru_2_tool2 = extrude(enl_v_mat_extru_2_sk2.sketch, amount=-ENL_V_MAT_EXTRU_2_REACH, mode=Mode.PRIVATE) & part.part
    # Esquisse3 → Enlèv. mat.-Extru.2 (cut, up to next)
    with BuildSketch(Plane(origin=(0, 0, 0), x_dir=(-1, 0, 0), z_dir=(0, 0, -1)), mode=Mode.PRIVATE) as enl_v_mat_extru_2_sk3:
        Polygon((42.618256699, 6.466126726), (48.637180802, 6.466126726), (48.637180802, 4.506126726), (52.037180802, 1.106126726), (52.037180802, -4.573873274), (48.637180802, -7.973873274), (48.637180802, -9.933873274), (42.618256699, -9.933873274), (42.618256699, -7.973873274), (39.218256699, -4.573873274), (39.218256699, 1.106126726), (42.618256699, 4.506126726), align=None)
    enl_v_mat_extru_2_tool3 = extrude(enl_v_mat_extru_2_sk3.sketch, amount=-ENL_V_MAT_EXTRU_2_REACH, mode=Mode.PRIVATE) & part.part
    add(enl_v_mat_extru_2_tool1.solids().sort_by_distance((-5.627719, -1.733873, 0))[0], mode=Mode.SUBTRACT)
    add(enl_v_mat_extru_2_tool2.solids().sort_by_distance((-25.627719, -1.733873, 0))[0], mode=Mode.SUBTRACT)
    add(enl_v_mat_extru_2_tool3.solids().sort_by_distance((-45.627719, -1.733873, 0))[0], mode=Mode.SUBTRACT)


solid = part.part
